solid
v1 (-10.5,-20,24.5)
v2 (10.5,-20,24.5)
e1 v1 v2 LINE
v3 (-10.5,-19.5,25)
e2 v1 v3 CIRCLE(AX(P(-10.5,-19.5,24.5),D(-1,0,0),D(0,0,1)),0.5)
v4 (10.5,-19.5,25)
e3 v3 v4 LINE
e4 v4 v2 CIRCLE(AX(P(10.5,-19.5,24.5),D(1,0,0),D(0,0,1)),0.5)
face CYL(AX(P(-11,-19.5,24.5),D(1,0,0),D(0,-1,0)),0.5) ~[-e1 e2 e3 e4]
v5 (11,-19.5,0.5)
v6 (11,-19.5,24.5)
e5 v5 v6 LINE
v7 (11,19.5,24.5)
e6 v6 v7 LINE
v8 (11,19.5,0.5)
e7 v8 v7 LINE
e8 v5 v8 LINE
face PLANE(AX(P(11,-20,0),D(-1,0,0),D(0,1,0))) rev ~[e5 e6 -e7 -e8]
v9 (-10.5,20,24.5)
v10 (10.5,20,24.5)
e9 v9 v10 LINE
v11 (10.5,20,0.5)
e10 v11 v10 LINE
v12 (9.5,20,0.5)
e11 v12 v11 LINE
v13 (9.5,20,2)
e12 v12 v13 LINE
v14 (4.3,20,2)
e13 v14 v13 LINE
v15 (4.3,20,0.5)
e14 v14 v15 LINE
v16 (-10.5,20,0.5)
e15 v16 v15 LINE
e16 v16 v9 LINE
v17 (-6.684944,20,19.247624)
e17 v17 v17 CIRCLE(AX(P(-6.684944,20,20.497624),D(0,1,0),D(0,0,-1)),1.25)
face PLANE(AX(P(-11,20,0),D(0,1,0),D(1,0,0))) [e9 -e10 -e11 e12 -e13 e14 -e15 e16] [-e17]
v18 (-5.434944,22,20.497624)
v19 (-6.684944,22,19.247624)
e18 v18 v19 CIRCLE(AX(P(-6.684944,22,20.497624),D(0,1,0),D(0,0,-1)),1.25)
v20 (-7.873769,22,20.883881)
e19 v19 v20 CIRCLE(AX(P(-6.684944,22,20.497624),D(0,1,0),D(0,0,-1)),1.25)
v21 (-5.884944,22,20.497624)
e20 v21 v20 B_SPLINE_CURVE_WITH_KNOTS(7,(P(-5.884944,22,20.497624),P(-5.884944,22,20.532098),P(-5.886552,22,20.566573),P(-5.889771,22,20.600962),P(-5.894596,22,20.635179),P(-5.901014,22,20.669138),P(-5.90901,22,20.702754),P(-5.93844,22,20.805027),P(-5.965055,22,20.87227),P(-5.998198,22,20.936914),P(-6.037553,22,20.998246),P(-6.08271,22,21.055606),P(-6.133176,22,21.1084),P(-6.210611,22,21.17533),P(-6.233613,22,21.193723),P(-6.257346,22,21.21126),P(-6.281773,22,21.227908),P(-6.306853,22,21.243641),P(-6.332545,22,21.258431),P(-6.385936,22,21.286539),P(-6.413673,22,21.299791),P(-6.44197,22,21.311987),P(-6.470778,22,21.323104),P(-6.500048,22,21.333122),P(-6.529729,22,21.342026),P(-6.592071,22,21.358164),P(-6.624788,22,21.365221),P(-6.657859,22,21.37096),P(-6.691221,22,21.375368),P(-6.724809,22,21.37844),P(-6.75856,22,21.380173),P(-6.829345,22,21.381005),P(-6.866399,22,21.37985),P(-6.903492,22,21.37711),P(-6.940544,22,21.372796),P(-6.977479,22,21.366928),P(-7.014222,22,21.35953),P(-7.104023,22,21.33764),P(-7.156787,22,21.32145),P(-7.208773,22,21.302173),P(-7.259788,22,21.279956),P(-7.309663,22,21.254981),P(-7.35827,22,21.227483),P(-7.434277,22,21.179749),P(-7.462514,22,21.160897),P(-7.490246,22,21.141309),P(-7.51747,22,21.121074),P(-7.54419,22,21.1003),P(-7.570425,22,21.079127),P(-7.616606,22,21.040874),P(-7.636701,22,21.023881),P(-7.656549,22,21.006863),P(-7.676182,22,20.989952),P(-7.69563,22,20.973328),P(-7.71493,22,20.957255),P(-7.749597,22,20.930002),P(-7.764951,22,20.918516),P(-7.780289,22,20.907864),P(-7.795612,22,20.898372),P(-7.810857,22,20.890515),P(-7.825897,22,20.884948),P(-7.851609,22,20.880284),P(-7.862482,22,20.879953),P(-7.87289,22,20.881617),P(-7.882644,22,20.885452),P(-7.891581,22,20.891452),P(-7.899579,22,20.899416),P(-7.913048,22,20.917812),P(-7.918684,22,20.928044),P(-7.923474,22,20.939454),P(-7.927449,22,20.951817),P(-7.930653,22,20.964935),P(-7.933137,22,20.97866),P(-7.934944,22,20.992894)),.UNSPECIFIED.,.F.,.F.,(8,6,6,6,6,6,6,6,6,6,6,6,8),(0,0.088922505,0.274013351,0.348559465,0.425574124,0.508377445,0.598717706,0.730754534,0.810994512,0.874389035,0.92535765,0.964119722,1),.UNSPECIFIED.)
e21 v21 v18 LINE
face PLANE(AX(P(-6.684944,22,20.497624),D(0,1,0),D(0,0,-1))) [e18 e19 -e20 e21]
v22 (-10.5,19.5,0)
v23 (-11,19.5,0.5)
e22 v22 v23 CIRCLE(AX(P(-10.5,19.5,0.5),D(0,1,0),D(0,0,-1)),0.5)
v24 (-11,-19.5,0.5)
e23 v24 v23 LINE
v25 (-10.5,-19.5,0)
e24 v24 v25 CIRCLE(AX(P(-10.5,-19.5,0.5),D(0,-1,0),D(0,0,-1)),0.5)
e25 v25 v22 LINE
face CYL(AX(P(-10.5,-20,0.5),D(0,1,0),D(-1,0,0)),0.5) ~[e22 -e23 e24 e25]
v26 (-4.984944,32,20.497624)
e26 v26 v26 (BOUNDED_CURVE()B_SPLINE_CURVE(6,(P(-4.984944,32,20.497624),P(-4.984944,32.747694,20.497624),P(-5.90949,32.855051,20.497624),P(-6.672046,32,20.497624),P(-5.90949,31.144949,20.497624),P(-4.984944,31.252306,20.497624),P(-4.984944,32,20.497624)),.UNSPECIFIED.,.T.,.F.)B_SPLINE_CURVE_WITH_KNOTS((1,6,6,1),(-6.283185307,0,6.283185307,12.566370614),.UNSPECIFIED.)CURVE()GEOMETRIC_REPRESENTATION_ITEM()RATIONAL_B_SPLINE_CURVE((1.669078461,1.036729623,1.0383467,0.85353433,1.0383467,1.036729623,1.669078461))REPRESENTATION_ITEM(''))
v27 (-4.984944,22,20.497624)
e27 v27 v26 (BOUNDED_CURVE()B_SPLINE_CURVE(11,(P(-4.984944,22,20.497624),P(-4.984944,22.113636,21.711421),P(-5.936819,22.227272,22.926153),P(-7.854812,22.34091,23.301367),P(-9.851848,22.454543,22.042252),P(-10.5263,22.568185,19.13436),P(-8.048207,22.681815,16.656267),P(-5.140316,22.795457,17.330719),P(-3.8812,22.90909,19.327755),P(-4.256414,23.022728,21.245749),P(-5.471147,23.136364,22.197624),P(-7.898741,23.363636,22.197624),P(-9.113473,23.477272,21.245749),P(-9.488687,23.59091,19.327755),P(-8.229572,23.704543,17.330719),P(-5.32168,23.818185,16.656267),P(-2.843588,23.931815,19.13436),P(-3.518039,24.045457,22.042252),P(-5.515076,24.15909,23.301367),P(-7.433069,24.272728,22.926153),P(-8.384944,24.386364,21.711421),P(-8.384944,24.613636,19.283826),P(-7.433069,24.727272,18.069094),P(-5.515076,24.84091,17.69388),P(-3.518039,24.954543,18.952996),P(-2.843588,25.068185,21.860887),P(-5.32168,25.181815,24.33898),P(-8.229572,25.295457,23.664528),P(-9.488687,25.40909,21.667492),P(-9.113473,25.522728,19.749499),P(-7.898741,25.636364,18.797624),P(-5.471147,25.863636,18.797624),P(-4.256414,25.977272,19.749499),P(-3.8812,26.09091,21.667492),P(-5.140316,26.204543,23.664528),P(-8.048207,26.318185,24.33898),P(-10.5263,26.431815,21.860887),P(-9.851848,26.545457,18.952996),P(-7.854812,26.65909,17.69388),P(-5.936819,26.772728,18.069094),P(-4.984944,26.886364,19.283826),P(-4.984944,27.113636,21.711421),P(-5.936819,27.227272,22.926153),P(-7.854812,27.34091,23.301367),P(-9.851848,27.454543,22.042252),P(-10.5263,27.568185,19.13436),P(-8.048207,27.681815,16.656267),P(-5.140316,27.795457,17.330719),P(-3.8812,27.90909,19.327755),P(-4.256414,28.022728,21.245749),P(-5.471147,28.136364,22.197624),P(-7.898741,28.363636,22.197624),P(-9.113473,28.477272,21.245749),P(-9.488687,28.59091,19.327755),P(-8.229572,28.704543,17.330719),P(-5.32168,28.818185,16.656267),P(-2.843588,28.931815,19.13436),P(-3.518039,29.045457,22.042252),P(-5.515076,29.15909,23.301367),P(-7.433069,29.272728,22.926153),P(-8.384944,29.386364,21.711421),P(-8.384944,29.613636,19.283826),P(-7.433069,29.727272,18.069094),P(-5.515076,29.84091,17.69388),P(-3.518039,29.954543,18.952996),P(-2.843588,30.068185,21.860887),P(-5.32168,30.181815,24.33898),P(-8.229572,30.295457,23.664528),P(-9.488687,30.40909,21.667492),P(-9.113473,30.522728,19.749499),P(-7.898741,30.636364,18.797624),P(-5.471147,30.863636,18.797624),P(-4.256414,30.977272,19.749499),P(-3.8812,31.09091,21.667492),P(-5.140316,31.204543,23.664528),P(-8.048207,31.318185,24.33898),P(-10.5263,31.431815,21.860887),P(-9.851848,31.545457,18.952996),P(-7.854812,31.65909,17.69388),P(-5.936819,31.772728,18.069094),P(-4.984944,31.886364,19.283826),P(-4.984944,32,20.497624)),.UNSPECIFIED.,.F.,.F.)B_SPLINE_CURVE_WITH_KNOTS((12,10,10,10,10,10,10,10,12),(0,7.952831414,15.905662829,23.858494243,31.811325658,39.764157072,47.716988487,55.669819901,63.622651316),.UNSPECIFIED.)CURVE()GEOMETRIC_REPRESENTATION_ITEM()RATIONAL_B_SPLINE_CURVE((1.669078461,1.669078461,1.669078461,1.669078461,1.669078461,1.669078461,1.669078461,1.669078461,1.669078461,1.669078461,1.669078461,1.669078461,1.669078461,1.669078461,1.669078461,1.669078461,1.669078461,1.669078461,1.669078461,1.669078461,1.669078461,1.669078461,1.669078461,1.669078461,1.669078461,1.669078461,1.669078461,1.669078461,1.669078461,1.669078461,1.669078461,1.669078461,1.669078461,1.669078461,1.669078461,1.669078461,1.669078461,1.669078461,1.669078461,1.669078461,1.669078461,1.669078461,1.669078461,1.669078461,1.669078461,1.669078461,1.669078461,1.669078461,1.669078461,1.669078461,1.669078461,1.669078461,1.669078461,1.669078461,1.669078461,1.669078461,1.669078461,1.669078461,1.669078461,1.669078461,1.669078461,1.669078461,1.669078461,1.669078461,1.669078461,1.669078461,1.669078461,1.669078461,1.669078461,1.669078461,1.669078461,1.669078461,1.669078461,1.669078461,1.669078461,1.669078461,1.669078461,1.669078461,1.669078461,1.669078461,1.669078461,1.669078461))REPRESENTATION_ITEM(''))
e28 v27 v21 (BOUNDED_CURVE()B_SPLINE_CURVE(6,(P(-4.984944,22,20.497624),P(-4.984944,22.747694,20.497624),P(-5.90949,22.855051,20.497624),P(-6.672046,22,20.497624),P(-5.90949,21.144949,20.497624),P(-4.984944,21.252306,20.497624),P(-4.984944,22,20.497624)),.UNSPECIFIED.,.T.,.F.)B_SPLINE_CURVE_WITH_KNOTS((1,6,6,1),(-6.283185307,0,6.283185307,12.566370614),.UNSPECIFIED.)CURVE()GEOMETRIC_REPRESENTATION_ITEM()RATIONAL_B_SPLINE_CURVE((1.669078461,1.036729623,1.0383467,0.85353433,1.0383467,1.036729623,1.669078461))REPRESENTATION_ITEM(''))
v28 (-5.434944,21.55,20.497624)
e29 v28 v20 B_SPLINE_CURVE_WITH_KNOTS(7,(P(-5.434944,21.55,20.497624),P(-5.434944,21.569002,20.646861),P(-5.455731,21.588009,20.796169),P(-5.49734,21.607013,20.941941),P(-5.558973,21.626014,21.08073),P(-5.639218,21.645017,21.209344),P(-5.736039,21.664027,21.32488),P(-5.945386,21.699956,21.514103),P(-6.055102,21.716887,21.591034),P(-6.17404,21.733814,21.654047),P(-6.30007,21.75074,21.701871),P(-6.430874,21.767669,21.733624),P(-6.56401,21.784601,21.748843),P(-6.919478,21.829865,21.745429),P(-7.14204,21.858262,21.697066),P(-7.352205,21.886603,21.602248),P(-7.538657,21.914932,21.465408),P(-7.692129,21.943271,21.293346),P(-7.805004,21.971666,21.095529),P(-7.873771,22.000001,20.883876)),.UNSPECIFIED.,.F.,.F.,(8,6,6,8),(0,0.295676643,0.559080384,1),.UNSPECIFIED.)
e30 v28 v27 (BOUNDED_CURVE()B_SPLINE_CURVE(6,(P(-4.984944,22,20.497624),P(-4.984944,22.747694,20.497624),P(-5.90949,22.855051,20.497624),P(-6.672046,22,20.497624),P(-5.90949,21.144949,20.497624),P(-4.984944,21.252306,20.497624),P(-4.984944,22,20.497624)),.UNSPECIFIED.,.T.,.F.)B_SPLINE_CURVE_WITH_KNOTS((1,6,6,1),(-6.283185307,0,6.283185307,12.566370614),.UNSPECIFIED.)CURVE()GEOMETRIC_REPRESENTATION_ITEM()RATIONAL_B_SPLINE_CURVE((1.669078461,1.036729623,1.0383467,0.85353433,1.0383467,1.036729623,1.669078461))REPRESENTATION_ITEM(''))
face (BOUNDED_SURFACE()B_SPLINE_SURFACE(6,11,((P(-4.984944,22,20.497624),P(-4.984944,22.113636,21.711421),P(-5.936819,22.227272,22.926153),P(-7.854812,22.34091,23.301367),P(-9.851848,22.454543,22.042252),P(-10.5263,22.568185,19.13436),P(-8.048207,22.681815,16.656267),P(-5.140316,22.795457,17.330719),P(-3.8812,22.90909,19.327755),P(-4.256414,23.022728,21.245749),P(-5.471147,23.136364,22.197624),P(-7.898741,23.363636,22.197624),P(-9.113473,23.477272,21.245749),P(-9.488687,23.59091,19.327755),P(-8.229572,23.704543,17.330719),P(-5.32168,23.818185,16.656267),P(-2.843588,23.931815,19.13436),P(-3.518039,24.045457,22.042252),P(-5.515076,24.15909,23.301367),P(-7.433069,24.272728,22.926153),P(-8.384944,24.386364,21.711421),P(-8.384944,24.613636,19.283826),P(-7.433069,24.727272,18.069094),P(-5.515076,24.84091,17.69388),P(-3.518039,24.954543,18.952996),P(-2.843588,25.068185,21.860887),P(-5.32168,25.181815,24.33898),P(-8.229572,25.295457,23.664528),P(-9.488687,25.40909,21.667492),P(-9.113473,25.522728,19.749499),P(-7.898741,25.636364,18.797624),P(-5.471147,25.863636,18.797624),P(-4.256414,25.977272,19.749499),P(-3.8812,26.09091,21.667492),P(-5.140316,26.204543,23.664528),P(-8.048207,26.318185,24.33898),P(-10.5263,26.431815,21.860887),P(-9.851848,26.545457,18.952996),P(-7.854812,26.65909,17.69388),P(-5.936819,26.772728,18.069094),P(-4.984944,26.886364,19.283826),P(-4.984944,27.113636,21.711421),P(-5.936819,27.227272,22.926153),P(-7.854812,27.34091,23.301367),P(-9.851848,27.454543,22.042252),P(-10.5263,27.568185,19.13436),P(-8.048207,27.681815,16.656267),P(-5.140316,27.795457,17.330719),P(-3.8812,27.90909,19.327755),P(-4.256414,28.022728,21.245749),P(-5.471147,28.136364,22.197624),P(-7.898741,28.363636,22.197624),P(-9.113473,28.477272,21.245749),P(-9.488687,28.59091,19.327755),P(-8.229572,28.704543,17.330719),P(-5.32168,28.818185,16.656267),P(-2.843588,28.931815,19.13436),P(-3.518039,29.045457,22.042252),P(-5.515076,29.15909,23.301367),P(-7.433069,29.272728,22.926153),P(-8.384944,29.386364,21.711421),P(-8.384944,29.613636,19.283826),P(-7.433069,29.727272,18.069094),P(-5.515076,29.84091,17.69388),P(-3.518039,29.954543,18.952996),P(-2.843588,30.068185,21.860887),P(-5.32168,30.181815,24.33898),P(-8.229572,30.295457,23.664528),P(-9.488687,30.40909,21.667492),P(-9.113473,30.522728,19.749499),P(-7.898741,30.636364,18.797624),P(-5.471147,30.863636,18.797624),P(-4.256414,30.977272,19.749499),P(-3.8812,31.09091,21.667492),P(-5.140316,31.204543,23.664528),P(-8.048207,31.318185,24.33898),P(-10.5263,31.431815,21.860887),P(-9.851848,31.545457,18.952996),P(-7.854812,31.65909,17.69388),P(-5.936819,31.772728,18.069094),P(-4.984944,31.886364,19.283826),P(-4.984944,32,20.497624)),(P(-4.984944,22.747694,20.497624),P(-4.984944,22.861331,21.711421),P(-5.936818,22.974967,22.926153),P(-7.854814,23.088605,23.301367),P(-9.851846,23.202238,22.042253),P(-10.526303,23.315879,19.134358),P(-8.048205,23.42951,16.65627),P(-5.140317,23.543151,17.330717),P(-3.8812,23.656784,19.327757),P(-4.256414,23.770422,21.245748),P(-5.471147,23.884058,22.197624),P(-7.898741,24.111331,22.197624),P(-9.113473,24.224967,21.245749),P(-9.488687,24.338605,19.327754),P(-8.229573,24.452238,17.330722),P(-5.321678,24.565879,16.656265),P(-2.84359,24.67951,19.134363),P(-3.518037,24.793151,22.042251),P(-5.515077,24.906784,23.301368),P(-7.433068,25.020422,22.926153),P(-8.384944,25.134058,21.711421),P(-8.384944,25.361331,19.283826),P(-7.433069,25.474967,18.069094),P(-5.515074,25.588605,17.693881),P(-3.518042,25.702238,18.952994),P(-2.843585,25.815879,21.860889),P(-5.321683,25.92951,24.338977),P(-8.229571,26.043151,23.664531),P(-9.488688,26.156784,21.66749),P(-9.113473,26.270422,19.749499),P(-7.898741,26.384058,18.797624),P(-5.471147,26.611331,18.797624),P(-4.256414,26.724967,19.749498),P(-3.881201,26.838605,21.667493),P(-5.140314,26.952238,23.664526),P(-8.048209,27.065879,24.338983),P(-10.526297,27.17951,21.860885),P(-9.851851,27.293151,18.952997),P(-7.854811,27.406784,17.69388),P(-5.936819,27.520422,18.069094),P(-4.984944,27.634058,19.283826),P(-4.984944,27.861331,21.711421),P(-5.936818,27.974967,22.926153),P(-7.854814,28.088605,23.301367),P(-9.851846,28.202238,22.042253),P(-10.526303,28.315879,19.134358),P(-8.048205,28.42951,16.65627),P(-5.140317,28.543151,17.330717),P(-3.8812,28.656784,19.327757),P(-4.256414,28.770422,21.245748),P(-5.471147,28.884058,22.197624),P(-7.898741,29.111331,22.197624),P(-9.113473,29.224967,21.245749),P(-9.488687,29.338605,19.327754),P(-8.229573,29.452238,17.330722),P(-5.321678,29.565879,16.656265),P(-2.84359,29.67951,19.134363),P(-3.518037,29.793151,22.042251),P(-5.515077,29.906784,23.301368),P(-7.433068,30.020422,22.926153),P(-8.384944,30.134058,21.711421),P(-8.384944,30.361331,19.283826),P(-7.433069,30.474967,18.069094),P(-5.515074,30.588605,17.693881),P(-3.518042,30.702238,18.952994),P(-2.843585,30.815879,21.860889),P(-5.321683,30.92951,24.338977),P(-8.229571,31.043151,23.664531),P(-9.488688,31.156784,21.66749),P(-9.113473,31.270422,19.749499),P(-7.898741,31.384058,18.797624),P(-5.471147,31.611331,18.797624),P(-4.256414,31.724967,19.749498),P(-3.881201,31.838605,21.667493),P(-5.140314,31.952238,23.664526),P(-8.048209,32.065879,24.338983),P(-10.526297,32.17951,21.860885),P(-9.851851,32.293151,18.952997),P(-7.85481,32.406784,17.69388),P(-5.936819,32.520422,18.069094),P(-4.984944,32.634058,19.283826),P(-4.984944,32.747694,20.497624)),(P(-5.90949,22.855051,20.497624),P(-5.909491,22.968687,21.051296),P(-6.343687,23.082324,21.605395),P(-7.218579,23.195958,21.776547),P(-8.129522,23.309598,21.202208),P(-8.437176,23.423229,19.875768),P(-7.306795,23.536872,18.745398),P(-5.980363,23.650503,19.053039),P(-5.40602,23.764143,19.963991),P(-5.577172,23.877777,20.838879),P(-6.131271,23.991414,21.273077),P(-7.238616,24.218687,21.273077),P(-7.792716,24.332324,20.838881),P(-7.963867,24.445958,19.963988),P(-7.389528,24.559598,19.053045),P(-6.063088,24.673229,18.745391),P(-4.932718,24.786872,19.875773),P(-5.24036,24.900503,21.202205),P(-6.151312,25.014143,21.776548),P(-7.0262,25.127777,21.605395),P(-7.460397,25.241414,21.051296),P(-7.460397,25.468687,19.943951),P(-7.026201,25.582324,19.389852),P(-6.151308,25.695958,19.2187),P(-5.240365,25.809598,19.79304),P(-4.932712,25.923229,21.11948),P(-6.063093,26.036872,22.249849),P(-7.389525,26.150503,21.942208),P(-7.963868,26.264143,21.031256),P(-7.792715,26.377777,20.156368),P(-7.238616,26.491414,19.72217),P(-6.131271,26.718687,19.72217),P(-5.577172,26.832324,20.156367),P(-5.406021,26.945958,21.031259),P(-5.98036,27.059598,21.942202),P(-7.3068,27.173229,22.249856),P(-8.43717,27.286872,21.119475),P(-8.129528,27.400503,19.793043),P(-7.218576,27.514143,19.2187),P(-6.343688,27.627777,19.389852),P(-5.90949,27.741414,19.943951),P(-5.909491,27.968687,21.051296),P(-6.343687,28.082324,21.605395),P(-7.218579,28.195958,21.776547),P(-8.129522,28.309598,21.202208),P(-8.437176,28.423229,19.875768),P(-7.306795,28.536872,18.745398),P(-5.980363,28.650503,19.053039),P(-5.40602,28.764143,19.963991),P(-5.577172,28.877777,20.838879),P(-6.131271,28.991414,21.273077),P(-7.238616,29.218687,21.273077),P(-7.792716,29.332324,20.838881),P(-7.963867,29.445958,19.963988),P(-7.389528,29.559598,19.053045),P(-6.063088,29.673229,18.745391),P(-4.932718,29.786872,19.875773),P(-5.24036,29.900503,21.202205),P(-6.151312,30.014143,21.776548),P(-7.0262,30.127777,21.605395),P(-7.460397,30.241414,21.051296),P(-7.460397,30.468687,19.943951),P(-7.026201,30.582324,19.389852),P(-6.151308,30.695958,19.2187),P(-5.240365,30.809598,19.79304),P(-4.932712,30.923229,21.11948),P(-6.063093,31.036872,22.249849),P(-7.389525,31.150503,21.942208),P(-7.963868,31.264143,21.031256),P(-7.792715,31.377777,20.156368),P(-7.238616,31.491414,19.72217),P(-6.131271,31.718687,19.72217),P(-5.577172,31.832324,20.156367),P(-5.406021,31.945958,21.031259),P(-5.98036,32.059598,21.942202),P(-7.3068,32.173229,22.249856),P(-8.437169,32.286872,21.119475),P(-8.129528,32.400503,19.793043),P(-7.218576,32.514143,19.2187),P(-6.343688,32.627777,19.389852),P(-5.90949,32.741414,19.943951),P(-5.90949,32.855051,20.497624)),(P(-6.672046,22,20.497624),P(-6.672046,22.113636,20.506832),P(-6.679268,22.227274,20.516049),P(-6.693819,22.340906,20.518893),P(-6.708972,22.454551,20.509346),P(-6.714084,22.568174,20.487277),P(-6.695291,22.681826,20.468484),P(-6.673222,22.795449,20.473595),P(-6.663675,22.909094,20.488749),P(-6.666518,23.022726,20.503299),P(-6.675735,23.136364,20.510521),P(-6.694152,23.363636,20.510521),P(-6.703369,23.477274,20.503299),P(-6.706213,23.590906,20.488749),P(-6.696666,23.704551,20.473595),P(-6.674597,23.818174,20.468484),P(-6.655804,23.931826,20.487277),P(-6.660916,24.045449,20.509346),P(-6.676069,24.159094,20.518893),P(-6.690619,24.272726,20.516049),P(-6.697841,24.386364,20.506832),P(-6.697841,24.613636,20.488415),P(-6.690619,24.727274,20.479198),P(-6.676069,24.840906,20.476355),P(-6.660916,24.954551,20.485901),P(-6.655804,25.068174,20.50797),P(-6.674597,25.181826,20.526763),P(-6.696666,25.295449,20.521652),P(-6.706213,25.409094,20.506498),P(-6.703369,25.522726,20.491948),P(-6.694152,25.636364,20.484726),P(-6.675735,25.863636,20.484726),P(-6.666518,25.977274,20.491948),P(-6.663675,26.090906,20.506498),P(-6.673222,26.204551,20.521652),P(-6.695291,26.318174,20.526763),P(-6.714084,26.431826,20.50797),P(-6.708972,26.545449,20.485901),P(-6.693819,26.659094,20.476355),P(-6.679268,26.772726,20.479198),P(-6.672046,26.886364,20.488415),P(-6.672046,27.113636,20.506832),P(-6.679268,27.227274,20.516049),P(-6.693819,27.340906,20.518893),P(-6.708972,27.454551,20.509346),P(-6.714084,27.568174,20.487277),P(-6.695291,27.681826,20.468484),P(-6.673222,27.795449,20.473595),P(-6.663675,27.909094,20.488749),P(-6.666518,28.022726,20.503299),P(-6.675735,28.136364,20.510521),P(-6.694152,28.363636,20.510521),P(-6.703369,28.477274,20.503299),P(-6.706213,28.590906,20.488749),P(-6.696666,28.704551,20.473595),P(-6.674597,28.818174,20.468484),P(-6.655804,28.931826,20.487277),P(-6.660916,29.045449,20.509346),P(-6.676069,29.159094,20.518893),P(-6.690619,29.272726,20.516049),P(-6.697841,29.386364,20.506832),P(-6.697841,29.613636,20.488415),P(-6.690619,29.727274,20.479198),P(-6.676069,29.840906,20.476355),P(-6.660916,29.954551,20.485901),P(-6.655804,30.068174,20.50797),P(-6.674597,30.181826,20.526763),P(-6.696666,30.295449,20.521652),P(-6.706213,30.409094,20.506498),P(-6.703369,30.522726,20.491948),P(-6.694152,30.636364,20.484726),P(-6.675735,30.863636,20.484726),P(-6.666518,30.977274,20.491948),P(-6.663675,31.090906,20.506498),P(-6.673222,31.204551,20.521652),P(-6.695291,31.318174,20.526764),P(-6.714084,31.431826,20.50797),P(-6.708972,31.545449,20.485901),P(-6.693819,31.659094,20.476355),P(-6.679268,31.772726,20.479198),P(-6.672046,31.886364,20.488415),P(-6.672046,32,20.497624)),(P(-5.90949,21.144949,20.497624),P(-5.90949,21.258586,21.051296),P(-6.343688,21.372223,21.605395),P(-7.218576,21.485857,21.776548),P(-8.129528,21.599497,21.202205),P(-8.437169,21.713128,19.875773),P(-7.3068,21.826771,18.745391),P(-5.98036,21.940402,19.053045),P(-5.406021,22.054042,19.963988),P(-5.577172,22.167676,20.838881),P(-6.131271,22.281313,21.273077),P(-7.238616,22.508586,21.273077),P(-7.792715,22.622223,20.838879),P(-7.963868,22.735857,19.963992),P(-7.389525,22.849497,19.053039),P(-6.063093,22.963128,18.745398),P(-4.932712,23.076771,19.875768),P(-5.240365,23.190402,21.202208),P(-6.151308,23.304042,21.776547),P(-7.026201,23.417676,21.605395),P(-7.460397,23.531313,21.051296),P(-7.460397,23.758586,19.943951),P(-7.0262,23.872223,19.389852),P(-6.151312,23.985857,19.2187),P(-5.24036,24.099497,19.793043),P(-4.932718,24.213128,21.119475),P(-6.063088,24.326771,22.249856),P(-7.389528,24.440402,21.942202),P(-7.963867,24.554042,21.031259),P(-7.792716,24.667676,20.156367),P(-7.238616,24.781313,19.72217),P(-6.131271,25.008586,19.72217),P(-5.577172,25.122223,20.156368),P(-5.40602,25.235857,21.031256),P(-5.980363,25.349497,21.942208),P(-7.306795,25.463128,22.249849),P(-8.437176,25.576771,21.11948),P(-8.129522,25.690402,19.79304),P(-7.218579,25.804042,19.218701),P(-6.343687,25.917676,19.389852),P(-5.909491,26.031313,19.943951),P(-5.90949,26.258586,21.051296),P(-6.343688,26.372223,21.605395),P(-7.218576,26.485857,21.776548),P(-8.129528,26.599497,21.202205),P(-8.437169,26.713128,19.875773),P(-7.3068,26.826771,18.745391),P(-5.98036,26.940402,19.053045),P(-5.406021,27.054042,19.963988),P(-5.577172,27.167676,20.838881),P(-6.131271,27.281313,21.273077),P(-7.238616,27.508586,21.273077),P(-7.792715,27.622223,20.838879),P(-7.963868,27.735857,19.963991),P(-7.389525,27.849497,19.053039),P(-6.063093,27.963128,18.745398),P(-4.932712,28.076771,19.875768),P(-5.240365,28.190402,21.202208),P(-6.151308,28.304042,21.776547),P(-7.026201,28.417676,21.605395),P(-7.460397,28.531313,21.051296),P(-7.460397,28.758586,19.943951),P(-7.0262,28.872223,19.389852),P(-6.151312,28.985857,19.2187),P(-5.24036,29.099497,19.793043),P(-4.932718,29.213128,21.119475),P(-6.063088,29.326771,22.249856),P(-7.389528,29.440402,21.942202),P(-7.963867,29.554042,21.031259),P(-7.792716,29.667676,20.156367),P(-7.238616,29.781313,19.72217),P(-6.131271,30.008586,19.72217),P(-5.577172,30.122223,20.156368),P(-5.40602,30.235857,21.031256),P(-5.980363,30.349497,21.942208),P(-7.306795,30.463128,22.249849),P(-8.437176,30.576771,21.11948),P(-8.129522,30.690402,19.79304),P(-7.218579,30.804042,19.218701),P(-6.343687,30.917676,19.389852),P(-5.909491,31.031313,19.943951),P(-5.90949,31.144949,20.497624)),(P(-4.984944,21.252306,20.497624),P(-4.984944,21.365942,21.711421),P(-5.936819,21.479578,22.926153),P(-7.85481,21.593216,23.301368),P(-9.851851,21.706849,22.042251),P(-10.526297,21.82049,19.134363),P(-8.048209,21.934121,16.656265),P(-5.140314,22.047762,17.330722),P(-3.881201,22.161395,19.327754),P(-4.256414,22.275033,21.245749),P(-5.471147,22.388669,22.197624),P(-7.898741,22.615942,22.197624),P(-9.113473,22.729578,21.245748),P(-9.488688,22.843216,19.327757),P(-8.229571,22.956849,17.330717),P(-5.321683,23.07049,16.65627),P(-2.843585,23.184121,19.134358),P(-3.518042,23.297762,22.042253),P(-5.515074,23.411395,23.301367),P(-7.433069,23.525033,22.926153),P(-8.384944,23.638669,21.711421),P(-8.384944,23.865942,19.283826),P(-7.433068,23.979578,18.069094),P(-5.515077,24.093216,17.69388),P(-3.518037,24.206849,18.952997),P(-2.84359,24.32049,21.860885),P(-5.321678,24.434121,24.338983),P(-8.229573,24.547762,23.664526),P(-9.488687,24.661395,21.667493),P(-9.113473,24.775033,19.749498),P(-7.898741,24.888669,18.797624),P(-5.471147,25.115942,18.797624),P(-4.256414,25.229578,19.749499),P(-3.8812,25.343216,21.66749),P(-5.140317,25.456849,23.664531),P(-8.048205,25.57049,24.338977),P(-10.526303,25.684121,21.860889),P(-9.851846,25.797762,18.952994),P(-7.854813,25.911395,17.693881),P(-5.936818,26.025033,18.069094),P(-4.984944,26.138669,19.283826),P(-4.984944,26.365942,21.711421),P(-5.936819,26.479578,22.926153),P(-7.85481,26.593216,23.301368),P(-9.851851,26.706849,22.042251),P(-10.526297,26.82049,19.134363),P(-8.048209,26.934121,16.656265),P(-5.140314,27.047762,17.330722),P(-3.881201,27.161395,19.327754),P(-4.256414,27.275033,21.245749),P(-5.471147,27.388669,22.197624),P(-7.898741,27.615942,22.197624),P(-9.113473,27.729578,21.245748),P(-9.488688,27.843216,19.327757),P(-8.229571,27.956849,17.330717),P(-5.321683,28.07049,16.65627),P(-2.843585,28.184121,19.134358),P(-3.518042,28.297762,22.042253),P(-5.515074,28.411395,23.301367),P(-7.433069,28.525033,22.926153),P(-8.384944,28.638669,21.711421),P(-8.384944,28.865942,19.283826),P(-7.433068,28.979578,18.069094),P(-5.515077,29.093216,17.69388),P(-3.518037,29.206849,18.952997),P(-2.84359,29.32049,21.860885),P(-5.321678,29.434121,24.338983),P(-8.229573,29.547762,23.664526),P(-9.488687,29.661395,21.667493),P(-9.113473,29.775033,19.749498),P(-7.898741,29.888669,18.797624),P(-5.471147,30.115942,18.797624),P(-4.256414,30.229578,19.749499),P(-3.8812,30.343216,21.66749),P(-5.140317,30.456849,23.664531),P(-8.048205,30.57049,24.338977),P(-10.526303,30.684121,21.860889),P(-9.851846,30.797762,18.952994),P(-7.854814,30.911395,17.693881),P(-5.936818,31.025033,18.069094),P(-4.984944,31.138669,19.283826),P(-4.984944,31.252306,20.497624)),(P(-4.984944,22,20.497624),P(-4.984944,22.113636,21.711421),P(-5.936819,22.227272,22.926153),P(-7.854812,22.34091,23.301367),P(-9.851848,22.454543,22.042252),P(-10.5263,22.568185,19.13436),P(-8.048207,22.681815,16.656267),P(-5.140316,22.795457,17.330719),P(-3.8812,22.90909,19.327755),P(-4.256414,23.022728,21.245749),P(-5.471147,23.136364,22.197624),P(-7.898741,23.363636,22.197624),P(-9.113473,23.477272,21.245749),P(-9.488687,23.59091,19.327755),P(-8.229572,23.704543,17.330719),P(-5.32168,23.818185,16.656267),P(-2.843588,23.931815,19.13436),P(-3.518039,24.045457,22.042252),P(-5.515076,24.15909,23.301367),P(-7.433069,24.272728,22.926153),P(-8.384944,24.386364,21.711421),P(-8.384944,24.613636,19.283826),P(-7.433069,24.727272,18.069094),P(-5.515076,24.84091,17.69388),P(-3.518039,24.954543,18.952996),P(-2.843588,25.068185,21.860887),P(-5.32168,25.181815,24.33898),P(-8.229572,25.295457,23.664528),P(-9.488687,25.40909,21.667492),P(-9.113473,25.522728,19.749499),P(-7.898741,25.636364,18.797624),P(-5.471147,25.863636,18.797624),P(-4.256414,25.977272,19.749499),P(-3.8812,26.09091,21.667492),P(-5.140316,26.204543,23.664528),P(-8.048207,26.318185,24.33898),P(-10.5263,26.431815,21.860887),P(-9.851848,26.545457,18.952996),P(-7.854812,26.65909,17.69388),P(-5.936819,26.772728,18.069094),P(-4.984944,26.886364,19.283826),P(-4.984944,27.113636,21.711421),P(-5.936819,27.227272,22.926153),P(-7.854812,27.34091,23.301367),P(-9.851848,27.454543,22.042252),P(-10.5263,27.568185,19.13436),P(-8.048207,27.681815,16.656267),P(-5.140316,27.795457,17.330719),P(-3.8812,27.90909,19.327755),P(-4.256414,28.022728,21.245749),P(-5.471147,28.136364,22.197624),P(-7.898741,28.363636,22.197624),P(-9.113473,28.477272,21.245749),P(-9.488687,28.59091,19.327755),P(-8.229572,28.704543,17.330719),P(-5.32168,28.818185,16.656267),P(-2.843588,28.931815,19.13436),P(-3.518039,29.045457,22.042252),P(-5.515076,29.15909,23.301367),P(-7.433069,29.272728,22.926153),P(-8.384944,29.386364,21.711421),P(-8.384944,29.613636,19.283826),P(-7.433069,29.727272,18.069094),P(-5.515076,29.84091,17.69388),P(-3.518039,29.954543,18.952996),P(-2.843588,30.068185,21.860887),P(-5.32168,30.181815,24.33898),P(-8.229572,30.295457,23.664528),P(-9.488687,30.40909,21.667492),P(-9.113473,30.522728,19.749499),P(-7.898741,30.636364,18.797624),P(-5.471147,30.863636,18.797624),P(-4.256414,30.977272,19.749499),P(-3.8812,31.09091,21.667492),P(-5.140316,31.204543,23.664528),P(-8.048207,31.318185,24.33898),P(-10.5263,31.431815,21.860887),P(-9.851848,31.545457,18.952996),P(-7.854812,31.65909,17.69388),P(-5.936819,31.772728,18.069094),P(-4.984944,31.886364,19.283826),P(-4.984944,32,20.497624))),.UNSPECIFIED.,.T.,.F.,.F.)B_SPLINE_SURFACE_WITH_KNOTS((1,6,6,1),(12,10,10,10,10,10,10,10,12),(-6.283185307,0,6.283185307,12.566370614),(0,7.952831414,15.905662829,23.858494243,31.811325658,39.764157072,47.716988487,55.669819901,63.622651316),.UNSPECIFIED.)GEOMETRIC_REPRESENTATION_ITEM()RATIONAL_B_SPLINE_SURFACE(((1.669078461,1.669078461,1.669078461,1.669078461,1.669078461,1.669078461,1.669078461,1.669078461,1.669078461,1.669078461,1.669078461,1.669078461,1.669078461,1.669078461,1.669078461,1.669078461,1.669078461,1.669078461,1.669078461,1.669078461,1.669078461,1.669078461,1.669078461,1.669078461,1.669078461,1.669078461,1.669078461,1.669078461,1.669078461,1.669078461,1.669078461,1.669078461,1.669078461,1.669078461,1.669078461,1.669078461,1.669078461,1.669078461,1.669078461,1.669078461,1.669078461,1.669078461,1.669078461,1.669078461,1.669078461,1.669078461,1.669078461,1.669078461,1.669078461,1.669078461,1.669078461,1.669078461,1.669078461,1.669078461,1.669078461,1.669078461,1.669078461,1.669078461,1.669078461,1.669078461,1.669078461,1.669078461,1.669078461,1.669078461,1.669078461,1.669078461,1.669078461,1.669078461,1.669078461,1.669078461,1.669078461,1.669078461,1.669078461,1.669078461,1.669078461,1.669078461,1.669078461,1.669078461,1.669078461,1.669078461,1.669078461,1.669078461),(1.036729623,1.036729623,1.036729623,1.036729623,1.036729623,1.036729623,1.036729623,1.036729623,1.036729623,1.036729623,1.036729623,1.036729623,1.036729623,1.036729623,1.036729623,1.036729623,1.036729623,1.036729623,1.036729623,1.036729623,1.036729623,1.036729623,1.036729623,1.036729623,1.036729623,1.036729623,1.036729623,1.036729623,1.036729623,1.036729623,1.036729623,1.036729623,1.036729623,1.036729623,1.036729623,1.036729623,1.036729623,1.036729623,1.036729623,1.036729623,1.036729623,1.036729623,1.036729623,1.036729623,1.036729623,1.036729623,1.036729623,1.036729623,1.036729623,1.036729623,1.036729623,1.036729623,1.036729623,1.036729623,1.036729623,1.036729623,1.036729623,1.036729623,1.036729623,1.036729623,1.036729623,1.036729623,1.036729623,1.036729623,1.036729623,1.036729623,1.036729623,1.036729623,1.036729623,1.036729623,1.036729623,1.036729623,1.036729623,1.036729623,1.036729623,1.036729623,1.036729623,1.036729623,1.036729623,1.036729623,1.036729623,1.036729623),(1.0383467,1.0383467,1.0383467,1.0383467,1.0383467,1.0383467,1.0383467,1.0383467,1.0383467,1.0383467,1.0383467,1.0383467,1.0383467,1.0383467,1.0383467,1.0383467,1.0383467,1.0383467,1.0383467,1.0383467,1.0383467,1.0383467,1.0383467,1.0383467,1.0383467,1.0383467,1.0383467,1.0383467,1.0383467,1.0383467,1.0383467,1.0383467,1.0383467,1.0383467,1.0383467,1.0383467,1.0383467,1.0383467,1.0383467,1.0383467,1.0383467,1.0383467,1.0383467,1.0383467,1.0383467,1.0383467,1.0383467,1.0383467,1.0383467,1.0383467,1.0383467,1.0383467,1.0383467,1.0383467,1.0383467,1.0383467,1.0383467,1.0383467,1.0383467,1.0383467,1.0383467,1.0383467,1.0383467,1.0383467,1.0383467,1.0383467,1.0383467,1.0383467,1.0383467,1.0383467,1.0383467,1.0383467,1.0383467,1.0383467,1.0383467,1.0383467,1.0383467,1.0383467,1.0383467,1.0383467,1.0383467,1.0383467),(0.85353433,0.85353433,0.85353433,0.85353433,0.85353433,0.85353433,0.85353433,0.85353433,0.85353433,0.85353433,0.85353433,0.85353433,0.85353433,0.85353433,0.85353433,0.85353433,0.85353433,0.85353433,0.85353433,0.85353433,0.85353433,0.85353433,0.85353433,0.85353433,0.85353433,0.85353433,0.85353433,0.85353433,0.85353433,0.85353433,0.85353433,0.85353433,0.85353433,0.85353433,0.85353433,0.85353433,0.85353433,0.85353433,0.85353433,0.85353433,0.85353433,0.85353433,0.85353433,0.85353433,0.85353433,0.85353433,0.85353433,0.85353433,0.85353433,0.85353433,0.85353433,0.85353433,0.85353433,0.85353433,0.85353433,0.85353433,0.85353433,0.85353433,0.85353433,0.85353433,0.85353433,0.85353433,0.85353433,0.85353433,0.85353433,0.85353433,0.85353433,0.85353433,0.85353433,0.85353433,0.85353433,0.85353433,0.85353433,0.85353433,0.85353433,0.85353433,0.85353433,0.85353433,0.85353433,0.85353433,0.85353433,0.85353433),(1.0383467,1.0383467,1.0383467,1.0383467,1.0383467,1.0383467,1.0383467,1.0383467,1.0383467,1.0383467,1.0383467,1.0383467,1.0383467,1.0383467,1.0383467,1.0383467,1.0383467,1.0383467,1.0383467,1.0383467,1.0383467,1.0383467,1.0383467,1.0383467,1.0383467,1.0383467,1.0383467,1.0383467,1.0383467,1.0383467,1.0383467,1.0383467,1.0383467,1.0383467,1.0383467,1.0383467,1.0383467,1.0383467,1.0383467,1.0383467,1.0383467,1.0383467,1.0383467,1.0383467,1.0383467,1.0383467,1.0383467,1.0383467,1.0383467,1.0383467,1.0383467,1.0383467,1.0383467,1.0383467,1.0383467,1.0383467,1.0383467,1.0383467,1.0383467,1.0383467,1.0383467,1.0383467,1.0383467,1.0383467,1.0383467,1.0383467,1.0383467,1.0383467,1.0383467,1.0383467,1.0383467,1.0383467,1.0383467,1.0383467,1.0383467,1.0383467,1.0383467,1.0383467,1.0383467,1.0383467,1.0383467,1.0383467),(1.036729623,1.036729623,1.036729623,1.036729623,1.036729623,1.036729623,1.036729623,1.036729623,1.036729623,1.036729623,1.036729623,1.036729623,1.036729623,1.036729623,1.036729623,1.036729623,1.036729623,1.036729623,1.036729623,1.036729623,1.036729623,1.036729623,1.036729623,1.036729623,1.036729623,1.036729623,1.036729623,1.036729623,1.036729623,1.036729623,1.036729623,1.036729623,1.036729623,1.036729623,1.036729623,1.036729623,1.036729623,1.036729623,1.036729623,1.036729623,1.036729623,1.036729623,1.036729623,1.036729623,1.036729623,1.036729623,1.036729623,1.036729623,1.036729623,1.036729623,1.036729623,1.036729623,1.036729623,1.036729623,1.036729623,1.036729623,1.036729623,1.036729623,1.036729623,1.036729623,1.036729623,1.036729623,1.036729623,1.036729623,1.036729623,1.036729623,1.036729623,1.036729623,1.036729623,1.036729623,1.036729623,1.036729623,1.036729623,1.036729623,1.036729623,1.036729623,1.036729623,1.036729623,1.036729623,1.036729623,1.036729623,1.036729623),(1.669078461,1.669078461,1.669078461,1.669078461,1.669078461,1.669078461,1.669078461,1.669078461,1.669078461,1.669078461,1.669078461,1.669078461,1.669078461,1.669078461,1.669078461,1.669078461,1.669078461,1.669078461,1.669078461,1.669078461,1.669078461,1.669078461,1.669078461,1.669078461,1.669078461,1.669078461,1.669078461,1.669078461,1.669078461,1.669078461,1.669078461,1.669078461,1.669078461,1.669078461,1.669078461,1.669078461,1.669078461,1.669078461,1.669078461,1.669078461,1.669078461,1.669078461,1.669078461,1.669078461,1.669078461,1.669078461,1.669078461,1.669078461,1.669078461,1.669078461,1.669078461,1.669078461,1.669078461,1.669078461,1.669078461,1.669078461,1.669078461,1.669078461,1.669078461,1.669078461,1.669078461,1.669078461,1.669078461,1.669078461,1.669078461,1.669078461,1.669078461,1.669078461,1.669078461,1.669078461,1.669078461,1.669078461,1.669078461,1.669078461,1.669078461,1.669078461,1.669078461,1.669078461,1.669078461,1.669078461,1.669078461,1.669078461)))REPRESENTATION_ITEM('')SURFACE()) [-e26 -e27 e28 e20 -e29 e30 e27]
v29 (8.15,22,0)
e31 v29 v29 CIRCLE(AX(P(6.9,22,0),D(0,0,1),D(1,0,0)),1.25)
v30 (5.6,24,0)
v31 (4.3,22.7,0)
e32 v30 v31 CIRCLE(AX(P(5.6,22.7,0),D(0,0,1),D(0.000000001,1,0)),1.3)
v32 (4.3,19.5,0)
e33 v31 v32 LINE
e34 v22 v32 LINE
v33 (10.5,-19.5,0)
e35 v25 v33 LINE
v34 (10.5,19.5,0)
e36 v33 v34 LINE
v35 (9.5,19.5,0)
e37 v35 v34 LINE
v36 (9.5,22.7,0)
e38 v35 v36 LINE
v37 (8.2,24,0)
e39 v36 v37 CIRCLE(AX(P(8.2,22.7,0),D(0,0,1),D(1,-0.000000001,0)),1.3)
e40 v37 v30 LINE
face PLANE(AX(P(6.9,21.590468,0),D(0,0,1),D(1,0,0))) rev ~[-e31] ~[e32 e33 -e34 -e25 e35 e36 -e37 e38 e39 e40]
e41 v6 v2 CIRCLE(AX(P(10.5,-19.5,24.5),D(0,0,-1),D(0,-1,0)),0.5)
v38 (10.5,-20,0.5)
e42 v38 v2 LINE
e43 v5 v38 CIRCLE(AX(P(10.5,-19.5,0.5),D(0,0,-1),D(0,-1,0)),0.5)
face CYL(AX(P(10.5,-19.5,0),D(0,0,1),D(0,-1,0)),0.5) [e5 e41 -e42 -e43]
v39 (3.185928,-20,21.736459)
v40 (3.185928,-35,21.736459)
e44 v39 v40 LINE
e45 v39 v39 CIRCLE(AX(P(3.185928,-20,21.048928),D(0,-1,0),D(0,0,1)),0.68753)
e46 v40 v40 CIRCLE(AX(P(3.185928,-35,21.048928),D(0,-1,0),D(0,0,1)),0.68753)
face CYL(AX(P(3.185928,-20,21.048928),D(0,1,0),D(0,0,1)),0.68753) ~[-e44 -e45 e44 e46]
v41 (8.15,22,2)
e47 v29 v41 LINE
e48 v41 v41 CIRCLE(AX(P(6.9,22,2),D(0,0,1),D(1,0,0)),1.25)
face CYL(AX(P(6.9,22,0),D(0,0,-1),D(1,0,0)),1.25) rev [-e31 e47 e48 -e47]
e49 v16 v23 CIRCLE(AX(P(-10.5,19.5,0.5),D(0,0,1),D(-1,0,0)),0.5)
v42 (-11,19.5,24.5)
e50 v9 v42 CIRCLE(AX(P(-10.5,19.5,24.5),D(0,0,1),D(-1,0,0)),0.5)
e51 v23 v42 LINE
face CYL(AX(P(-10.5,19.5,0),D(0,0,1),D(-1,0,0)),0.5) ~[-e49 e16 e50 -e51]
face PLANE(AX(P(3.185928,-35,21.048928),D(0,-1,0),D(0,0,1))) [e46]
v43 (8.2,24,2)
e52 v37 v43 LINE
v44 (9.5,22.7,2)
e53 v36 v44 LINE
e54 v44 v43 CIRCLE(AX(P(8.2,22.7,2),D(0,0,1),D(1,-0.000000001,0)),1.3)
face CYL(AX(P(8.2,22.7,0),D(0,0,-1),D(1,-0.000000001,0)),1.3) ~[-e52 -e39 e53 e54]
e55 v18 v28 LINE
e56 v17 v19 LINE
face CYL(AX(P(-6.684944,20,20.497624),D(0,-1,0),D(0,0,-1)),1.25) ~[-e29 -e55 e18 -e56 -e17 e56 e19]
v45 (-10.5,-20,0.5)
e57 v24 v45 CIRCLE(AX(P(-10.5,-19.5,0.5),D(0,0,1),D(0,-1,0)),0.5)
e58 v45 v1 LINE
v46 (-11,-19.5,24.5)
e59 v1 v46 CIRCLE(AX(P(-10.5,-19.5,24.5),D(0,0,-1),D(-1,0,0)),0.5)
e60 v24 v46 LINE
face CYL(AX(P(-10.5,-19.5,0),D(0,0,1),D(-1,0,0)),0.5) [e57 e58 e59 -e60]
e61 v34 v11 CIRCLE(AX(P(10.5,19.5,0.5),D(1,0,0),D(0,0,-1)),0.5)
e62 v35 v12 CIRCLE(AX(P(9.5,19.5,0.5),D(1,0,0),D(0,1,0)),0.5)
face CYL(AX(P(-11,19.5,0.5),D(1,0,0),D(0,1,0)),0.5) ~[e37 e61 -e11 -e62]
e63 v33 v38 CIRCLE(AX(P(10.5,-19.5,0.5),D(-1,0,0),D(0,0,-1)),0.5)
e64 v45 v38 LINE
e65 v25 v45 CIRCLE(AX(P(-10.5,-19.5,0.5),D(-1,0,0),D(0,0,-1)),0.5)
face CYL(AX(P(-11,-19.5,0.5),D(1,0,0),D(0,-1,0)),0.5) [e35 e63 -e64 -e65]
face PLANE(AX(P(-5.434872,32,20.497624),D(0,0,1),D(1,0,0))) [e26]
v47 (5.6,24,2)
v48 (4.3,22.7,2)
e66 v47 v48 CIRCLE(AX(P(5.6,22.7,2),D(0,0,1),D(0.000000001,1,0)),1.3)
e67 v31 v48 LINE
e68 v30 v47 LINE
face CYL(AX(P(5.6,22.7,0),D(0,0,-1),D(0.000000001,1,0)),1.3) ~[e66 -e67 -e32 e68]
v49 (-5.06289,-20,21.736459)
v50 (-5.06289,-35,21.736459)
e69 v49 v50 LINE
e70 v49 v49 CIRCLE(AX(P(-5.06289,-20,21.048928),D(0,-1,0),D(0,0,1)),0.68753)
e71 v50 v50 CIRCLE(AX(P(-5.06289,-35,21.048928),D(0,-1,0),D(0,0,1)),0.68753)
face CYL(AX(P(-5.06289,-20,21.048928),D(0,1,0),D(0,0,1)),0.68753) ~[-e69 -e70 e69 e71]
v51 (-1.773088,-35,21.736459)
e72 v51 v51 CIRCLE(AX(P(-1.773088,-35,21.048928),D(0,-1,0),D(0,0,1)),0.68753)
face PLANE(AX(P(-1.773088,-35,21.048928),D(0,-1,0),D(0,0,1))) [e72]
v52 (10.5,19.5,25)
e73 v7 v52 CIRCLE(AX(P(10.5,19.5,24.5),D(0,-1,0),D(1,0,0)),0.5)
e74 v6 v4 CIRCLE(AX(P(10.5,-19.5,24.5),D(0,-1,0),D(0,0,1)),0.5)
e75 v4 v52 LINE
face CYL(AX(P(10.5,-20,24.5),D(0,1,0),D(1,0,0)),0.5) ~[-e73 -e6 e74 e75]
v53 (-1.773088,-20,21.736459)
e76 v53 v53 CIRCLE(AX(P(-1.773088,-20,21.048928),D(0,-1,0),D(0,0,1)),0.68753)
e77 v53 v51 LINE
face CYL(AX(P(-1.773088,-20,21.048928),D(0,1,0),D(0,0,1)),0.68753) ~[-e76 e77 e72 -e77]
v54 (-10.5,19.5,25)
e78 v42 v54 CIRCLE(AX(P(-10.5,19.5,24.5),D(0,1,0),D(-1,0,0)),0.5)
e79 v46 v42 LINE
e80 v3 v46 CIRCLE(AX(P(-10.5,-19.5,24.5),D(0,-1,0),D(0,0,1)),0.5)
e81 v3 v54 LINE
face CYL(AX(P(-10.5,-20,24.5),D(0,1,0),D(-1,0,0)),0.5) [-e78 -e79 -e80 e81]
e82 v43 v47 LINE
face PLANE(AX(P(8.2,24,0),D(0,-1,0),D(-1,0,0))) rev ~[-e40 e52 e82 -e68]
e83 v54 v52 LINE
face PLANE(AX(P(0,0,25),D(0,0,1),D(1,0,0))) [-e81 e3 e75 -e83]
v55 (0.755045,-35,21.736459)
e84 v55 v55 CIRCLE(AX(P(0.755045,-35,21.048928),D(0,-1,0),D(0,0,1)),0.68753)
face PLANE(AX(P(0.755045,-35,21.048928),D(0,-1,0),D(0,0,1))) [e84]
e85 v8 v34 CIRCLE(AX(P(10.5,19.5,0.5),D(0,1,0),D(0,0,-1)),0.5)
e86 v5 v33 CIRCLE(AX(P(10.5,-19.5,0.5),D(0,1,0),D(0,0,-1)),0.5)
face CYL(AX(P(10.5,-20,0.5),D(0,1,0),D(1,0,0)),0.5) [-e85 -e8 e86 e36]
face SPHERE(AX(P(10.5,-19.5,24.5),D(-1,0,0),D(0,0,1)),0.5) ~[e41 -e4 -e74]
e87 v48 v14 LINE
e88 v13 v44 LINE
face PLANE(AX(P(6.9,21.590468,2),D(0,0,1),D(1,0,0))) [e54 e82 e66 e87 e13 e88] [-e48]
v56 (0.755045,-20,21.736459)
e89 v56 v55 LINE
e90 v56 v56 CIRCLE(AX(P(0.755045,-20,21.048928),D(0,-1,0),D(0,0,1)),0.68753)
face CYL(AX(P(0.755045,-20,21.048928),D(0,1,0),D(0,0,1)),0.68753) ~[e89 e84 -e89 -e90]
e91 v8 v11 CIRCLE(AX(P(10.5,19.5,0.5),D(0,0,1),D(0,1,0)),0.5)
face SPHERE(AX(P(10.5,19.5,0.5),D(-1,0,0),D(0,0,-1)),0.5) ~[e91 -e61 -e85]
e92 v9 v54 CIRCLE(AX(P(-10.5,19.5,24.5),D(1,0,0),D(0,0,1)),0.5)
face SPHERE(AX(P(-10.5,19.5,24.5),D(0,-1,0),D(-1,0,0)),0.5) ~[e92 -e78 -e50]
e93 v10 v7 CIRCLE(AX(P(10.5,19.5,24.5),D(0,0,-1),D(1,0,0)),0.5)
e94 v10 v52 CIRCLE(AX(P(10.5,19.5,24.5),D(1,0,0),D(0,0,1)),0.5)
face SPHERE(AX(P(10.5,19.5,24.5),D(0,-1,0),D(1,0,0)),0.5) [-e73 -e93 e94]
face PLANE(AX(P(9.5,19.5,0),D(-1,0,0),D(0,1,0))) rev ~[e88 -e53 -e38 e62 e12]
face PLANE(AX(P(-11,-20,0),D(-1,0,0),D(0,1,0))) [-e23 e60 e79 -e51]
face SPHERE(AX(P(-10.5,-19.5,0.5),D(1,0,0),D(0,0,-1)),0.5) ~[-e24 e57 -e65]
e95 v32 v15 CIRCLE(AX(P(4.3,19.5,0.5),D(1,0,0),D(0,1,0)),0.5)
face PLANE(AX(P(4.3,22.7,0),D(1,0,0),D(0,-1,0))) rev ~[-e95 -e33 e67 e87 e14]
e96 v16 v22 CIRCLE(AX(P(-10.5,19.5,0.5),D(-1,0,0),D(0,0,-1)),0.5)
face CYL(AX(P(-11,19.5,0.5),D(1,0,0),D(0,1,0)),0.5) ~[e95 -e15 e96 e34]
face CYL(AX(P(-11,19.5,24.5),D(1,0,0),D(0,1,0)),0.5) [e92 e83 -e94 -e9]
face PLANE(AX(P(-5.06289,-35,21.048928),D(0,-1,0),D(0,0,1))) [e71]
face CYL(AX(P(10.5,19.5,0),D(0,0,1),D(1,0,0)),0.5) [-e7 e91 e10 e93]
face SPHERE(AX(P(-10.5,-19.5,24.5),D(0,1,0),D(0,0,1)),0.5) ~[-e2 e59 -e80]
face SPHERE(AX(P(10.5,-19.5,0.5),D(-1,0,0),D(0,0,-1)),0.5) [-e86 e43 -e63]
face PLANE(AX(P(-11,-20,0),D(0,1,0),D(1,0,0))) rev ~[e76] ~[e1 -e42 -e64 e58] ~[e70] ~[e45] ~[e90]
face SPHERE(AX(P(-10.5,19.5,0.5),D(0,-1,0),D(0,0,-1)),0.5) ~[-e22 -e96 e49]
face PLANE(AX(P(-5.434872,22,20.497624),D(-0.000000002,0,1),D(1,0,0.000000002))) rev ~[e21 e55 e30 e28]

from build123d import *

# Parameters (mm, degrees)
SKETCH1_W           = 22
SKETCH1_H           = 40
BOSS_EXTRUDE1_DEPTH = 25
BODY_FILLETS_R      = 0.5
SKETCH2_R           = 1.25
MOUNTING_TAB_DEPTH  = 2
SKETCH3_R           = 1.25
ANTINA_BASE_DEPTH   = 2
SWEEP1_PITCH        = 1
SWEEP1_HEIGHT       = 10
SWEEP1_RADIUS       = 1.25
SWEEP1_START_ANGLE  = 90
SKETCH5_R           = 0.45
SKETCH6_R           = 0.687530477
BOSS_EXTRUDE4_DEPTH = 15


with BuildPart() as part:
    # Sketch1 → Boss-Extrude1 (new body)
    with BuildSketch(Plane.XY):
        Rectangle(SKETCH1_W, SKETCH1_H)
    extrude(amount=BOSS_EXTRUDE1_DEPTH)

    # Body Fillets
    body_fillets_edges = [part.edges().sort_by_distance(p)[0] for p in [
        (-11, 0, 25),
        (0, -20, 25),
        (11, 0, 25),
        (0, -20, 0),
        (-11, 0, 0),
        (0, 20, 0),
        (11, 0, 0),
        (11, -20, 12.5),
        (-11, -20, 12.5),
        (-11, 20, 12.5),
        (11, 20, 12.5),
        (0, 20, 25),
    ]]
    fillet(body_fillets_edges, radius=BODY_FILLETS_R)

    # Sketch2 → Mounting Tab (add)
    with BuildSketch(Plane.XY):
        with BuildLine():
            Line((9.5, 19.5), (9.5, 22.7))
            ThreePointArc((9.5, 22.7), (9.119238816, 23.619238816), (8.2, 24))
            Line((8.2, 24), (5.6, 24))
            ThreePointArc((5.6, 24), (4.680761184, 23.619238816), (4.3, 22.7))
            Line((4.3, 22.7), (4.3, 19.5))
            Line((4.3, 19.5), (9.5, 19.5))
        make_face()
        with Locations((6.9, 22)):
            Circle(SKETCH2_R, mode=Mode.SUBTRACT)
    extrude(amount=MOUNTING_TAB_DEPTH)

    # Sketch3 → Antina base (add)
    with BuildSketch(Plane(origin=(0, 20, 0), x_dir=(1, 0, 0), z_dir=(0, 1, 0))):
        with Locations(Location((-6.684943785, -20.497623655, 0), (0, 0, 90))):
            Circle(SKETCH3_R)
    extrude(amount=ANTINA_BASE_DEPTH)

    # Sweep1: sweep along a helix
    with BuildLine() as sweep1_path:
        add(Helix(SWEEP1_PITCH, SWEEP1_HEIGHT, SWEEP1_RADIUS, center=(-6.684943785, 22, 20.497623655), direction=(0, 1, 0), lefthand=True, mode=Mode.PRIVATE).rotate(Axis((-6.684943785, 22, 20.497623655), (0, 1, 0)), SWEEP1_START_ANGLE))
    # Sketch5 → Sweep1 (sweep)
    with BuildSketch(Plane.XY.offset(20.497623655)):
        with Locations((-5.434943785, 32)):
            Circle(SKETCH5_R)
    sweep(path=sweep1_path.line, is_frenet=True)

    # Sketch6 → Boss-Extrude4 (add)
    with BuildSketch(Plane.XZ.offset(20)):
        with Locations(Location((-1.773087741, 21.048928225, 0), (0, 0, 90))):
            Circle(SKETCH6_R)
        with Locations(Location((0.755044726, 21.048928225, 0), (0, 0, 90))):
            Circle(SKETCH6_R)
        with Locations(Location((3.1859278, 21.048928225, 0), (0, 0, 90))):
            Circle(SKETCH6_R)
        with Locations(Location((-5.062890332, 21.048928225, 0), (0, 0, 90))):
            Circle(SKETCH6_R)
    extrude(amount=BOSS_EXTRUDE4_DEPTH)


solid = part.part
